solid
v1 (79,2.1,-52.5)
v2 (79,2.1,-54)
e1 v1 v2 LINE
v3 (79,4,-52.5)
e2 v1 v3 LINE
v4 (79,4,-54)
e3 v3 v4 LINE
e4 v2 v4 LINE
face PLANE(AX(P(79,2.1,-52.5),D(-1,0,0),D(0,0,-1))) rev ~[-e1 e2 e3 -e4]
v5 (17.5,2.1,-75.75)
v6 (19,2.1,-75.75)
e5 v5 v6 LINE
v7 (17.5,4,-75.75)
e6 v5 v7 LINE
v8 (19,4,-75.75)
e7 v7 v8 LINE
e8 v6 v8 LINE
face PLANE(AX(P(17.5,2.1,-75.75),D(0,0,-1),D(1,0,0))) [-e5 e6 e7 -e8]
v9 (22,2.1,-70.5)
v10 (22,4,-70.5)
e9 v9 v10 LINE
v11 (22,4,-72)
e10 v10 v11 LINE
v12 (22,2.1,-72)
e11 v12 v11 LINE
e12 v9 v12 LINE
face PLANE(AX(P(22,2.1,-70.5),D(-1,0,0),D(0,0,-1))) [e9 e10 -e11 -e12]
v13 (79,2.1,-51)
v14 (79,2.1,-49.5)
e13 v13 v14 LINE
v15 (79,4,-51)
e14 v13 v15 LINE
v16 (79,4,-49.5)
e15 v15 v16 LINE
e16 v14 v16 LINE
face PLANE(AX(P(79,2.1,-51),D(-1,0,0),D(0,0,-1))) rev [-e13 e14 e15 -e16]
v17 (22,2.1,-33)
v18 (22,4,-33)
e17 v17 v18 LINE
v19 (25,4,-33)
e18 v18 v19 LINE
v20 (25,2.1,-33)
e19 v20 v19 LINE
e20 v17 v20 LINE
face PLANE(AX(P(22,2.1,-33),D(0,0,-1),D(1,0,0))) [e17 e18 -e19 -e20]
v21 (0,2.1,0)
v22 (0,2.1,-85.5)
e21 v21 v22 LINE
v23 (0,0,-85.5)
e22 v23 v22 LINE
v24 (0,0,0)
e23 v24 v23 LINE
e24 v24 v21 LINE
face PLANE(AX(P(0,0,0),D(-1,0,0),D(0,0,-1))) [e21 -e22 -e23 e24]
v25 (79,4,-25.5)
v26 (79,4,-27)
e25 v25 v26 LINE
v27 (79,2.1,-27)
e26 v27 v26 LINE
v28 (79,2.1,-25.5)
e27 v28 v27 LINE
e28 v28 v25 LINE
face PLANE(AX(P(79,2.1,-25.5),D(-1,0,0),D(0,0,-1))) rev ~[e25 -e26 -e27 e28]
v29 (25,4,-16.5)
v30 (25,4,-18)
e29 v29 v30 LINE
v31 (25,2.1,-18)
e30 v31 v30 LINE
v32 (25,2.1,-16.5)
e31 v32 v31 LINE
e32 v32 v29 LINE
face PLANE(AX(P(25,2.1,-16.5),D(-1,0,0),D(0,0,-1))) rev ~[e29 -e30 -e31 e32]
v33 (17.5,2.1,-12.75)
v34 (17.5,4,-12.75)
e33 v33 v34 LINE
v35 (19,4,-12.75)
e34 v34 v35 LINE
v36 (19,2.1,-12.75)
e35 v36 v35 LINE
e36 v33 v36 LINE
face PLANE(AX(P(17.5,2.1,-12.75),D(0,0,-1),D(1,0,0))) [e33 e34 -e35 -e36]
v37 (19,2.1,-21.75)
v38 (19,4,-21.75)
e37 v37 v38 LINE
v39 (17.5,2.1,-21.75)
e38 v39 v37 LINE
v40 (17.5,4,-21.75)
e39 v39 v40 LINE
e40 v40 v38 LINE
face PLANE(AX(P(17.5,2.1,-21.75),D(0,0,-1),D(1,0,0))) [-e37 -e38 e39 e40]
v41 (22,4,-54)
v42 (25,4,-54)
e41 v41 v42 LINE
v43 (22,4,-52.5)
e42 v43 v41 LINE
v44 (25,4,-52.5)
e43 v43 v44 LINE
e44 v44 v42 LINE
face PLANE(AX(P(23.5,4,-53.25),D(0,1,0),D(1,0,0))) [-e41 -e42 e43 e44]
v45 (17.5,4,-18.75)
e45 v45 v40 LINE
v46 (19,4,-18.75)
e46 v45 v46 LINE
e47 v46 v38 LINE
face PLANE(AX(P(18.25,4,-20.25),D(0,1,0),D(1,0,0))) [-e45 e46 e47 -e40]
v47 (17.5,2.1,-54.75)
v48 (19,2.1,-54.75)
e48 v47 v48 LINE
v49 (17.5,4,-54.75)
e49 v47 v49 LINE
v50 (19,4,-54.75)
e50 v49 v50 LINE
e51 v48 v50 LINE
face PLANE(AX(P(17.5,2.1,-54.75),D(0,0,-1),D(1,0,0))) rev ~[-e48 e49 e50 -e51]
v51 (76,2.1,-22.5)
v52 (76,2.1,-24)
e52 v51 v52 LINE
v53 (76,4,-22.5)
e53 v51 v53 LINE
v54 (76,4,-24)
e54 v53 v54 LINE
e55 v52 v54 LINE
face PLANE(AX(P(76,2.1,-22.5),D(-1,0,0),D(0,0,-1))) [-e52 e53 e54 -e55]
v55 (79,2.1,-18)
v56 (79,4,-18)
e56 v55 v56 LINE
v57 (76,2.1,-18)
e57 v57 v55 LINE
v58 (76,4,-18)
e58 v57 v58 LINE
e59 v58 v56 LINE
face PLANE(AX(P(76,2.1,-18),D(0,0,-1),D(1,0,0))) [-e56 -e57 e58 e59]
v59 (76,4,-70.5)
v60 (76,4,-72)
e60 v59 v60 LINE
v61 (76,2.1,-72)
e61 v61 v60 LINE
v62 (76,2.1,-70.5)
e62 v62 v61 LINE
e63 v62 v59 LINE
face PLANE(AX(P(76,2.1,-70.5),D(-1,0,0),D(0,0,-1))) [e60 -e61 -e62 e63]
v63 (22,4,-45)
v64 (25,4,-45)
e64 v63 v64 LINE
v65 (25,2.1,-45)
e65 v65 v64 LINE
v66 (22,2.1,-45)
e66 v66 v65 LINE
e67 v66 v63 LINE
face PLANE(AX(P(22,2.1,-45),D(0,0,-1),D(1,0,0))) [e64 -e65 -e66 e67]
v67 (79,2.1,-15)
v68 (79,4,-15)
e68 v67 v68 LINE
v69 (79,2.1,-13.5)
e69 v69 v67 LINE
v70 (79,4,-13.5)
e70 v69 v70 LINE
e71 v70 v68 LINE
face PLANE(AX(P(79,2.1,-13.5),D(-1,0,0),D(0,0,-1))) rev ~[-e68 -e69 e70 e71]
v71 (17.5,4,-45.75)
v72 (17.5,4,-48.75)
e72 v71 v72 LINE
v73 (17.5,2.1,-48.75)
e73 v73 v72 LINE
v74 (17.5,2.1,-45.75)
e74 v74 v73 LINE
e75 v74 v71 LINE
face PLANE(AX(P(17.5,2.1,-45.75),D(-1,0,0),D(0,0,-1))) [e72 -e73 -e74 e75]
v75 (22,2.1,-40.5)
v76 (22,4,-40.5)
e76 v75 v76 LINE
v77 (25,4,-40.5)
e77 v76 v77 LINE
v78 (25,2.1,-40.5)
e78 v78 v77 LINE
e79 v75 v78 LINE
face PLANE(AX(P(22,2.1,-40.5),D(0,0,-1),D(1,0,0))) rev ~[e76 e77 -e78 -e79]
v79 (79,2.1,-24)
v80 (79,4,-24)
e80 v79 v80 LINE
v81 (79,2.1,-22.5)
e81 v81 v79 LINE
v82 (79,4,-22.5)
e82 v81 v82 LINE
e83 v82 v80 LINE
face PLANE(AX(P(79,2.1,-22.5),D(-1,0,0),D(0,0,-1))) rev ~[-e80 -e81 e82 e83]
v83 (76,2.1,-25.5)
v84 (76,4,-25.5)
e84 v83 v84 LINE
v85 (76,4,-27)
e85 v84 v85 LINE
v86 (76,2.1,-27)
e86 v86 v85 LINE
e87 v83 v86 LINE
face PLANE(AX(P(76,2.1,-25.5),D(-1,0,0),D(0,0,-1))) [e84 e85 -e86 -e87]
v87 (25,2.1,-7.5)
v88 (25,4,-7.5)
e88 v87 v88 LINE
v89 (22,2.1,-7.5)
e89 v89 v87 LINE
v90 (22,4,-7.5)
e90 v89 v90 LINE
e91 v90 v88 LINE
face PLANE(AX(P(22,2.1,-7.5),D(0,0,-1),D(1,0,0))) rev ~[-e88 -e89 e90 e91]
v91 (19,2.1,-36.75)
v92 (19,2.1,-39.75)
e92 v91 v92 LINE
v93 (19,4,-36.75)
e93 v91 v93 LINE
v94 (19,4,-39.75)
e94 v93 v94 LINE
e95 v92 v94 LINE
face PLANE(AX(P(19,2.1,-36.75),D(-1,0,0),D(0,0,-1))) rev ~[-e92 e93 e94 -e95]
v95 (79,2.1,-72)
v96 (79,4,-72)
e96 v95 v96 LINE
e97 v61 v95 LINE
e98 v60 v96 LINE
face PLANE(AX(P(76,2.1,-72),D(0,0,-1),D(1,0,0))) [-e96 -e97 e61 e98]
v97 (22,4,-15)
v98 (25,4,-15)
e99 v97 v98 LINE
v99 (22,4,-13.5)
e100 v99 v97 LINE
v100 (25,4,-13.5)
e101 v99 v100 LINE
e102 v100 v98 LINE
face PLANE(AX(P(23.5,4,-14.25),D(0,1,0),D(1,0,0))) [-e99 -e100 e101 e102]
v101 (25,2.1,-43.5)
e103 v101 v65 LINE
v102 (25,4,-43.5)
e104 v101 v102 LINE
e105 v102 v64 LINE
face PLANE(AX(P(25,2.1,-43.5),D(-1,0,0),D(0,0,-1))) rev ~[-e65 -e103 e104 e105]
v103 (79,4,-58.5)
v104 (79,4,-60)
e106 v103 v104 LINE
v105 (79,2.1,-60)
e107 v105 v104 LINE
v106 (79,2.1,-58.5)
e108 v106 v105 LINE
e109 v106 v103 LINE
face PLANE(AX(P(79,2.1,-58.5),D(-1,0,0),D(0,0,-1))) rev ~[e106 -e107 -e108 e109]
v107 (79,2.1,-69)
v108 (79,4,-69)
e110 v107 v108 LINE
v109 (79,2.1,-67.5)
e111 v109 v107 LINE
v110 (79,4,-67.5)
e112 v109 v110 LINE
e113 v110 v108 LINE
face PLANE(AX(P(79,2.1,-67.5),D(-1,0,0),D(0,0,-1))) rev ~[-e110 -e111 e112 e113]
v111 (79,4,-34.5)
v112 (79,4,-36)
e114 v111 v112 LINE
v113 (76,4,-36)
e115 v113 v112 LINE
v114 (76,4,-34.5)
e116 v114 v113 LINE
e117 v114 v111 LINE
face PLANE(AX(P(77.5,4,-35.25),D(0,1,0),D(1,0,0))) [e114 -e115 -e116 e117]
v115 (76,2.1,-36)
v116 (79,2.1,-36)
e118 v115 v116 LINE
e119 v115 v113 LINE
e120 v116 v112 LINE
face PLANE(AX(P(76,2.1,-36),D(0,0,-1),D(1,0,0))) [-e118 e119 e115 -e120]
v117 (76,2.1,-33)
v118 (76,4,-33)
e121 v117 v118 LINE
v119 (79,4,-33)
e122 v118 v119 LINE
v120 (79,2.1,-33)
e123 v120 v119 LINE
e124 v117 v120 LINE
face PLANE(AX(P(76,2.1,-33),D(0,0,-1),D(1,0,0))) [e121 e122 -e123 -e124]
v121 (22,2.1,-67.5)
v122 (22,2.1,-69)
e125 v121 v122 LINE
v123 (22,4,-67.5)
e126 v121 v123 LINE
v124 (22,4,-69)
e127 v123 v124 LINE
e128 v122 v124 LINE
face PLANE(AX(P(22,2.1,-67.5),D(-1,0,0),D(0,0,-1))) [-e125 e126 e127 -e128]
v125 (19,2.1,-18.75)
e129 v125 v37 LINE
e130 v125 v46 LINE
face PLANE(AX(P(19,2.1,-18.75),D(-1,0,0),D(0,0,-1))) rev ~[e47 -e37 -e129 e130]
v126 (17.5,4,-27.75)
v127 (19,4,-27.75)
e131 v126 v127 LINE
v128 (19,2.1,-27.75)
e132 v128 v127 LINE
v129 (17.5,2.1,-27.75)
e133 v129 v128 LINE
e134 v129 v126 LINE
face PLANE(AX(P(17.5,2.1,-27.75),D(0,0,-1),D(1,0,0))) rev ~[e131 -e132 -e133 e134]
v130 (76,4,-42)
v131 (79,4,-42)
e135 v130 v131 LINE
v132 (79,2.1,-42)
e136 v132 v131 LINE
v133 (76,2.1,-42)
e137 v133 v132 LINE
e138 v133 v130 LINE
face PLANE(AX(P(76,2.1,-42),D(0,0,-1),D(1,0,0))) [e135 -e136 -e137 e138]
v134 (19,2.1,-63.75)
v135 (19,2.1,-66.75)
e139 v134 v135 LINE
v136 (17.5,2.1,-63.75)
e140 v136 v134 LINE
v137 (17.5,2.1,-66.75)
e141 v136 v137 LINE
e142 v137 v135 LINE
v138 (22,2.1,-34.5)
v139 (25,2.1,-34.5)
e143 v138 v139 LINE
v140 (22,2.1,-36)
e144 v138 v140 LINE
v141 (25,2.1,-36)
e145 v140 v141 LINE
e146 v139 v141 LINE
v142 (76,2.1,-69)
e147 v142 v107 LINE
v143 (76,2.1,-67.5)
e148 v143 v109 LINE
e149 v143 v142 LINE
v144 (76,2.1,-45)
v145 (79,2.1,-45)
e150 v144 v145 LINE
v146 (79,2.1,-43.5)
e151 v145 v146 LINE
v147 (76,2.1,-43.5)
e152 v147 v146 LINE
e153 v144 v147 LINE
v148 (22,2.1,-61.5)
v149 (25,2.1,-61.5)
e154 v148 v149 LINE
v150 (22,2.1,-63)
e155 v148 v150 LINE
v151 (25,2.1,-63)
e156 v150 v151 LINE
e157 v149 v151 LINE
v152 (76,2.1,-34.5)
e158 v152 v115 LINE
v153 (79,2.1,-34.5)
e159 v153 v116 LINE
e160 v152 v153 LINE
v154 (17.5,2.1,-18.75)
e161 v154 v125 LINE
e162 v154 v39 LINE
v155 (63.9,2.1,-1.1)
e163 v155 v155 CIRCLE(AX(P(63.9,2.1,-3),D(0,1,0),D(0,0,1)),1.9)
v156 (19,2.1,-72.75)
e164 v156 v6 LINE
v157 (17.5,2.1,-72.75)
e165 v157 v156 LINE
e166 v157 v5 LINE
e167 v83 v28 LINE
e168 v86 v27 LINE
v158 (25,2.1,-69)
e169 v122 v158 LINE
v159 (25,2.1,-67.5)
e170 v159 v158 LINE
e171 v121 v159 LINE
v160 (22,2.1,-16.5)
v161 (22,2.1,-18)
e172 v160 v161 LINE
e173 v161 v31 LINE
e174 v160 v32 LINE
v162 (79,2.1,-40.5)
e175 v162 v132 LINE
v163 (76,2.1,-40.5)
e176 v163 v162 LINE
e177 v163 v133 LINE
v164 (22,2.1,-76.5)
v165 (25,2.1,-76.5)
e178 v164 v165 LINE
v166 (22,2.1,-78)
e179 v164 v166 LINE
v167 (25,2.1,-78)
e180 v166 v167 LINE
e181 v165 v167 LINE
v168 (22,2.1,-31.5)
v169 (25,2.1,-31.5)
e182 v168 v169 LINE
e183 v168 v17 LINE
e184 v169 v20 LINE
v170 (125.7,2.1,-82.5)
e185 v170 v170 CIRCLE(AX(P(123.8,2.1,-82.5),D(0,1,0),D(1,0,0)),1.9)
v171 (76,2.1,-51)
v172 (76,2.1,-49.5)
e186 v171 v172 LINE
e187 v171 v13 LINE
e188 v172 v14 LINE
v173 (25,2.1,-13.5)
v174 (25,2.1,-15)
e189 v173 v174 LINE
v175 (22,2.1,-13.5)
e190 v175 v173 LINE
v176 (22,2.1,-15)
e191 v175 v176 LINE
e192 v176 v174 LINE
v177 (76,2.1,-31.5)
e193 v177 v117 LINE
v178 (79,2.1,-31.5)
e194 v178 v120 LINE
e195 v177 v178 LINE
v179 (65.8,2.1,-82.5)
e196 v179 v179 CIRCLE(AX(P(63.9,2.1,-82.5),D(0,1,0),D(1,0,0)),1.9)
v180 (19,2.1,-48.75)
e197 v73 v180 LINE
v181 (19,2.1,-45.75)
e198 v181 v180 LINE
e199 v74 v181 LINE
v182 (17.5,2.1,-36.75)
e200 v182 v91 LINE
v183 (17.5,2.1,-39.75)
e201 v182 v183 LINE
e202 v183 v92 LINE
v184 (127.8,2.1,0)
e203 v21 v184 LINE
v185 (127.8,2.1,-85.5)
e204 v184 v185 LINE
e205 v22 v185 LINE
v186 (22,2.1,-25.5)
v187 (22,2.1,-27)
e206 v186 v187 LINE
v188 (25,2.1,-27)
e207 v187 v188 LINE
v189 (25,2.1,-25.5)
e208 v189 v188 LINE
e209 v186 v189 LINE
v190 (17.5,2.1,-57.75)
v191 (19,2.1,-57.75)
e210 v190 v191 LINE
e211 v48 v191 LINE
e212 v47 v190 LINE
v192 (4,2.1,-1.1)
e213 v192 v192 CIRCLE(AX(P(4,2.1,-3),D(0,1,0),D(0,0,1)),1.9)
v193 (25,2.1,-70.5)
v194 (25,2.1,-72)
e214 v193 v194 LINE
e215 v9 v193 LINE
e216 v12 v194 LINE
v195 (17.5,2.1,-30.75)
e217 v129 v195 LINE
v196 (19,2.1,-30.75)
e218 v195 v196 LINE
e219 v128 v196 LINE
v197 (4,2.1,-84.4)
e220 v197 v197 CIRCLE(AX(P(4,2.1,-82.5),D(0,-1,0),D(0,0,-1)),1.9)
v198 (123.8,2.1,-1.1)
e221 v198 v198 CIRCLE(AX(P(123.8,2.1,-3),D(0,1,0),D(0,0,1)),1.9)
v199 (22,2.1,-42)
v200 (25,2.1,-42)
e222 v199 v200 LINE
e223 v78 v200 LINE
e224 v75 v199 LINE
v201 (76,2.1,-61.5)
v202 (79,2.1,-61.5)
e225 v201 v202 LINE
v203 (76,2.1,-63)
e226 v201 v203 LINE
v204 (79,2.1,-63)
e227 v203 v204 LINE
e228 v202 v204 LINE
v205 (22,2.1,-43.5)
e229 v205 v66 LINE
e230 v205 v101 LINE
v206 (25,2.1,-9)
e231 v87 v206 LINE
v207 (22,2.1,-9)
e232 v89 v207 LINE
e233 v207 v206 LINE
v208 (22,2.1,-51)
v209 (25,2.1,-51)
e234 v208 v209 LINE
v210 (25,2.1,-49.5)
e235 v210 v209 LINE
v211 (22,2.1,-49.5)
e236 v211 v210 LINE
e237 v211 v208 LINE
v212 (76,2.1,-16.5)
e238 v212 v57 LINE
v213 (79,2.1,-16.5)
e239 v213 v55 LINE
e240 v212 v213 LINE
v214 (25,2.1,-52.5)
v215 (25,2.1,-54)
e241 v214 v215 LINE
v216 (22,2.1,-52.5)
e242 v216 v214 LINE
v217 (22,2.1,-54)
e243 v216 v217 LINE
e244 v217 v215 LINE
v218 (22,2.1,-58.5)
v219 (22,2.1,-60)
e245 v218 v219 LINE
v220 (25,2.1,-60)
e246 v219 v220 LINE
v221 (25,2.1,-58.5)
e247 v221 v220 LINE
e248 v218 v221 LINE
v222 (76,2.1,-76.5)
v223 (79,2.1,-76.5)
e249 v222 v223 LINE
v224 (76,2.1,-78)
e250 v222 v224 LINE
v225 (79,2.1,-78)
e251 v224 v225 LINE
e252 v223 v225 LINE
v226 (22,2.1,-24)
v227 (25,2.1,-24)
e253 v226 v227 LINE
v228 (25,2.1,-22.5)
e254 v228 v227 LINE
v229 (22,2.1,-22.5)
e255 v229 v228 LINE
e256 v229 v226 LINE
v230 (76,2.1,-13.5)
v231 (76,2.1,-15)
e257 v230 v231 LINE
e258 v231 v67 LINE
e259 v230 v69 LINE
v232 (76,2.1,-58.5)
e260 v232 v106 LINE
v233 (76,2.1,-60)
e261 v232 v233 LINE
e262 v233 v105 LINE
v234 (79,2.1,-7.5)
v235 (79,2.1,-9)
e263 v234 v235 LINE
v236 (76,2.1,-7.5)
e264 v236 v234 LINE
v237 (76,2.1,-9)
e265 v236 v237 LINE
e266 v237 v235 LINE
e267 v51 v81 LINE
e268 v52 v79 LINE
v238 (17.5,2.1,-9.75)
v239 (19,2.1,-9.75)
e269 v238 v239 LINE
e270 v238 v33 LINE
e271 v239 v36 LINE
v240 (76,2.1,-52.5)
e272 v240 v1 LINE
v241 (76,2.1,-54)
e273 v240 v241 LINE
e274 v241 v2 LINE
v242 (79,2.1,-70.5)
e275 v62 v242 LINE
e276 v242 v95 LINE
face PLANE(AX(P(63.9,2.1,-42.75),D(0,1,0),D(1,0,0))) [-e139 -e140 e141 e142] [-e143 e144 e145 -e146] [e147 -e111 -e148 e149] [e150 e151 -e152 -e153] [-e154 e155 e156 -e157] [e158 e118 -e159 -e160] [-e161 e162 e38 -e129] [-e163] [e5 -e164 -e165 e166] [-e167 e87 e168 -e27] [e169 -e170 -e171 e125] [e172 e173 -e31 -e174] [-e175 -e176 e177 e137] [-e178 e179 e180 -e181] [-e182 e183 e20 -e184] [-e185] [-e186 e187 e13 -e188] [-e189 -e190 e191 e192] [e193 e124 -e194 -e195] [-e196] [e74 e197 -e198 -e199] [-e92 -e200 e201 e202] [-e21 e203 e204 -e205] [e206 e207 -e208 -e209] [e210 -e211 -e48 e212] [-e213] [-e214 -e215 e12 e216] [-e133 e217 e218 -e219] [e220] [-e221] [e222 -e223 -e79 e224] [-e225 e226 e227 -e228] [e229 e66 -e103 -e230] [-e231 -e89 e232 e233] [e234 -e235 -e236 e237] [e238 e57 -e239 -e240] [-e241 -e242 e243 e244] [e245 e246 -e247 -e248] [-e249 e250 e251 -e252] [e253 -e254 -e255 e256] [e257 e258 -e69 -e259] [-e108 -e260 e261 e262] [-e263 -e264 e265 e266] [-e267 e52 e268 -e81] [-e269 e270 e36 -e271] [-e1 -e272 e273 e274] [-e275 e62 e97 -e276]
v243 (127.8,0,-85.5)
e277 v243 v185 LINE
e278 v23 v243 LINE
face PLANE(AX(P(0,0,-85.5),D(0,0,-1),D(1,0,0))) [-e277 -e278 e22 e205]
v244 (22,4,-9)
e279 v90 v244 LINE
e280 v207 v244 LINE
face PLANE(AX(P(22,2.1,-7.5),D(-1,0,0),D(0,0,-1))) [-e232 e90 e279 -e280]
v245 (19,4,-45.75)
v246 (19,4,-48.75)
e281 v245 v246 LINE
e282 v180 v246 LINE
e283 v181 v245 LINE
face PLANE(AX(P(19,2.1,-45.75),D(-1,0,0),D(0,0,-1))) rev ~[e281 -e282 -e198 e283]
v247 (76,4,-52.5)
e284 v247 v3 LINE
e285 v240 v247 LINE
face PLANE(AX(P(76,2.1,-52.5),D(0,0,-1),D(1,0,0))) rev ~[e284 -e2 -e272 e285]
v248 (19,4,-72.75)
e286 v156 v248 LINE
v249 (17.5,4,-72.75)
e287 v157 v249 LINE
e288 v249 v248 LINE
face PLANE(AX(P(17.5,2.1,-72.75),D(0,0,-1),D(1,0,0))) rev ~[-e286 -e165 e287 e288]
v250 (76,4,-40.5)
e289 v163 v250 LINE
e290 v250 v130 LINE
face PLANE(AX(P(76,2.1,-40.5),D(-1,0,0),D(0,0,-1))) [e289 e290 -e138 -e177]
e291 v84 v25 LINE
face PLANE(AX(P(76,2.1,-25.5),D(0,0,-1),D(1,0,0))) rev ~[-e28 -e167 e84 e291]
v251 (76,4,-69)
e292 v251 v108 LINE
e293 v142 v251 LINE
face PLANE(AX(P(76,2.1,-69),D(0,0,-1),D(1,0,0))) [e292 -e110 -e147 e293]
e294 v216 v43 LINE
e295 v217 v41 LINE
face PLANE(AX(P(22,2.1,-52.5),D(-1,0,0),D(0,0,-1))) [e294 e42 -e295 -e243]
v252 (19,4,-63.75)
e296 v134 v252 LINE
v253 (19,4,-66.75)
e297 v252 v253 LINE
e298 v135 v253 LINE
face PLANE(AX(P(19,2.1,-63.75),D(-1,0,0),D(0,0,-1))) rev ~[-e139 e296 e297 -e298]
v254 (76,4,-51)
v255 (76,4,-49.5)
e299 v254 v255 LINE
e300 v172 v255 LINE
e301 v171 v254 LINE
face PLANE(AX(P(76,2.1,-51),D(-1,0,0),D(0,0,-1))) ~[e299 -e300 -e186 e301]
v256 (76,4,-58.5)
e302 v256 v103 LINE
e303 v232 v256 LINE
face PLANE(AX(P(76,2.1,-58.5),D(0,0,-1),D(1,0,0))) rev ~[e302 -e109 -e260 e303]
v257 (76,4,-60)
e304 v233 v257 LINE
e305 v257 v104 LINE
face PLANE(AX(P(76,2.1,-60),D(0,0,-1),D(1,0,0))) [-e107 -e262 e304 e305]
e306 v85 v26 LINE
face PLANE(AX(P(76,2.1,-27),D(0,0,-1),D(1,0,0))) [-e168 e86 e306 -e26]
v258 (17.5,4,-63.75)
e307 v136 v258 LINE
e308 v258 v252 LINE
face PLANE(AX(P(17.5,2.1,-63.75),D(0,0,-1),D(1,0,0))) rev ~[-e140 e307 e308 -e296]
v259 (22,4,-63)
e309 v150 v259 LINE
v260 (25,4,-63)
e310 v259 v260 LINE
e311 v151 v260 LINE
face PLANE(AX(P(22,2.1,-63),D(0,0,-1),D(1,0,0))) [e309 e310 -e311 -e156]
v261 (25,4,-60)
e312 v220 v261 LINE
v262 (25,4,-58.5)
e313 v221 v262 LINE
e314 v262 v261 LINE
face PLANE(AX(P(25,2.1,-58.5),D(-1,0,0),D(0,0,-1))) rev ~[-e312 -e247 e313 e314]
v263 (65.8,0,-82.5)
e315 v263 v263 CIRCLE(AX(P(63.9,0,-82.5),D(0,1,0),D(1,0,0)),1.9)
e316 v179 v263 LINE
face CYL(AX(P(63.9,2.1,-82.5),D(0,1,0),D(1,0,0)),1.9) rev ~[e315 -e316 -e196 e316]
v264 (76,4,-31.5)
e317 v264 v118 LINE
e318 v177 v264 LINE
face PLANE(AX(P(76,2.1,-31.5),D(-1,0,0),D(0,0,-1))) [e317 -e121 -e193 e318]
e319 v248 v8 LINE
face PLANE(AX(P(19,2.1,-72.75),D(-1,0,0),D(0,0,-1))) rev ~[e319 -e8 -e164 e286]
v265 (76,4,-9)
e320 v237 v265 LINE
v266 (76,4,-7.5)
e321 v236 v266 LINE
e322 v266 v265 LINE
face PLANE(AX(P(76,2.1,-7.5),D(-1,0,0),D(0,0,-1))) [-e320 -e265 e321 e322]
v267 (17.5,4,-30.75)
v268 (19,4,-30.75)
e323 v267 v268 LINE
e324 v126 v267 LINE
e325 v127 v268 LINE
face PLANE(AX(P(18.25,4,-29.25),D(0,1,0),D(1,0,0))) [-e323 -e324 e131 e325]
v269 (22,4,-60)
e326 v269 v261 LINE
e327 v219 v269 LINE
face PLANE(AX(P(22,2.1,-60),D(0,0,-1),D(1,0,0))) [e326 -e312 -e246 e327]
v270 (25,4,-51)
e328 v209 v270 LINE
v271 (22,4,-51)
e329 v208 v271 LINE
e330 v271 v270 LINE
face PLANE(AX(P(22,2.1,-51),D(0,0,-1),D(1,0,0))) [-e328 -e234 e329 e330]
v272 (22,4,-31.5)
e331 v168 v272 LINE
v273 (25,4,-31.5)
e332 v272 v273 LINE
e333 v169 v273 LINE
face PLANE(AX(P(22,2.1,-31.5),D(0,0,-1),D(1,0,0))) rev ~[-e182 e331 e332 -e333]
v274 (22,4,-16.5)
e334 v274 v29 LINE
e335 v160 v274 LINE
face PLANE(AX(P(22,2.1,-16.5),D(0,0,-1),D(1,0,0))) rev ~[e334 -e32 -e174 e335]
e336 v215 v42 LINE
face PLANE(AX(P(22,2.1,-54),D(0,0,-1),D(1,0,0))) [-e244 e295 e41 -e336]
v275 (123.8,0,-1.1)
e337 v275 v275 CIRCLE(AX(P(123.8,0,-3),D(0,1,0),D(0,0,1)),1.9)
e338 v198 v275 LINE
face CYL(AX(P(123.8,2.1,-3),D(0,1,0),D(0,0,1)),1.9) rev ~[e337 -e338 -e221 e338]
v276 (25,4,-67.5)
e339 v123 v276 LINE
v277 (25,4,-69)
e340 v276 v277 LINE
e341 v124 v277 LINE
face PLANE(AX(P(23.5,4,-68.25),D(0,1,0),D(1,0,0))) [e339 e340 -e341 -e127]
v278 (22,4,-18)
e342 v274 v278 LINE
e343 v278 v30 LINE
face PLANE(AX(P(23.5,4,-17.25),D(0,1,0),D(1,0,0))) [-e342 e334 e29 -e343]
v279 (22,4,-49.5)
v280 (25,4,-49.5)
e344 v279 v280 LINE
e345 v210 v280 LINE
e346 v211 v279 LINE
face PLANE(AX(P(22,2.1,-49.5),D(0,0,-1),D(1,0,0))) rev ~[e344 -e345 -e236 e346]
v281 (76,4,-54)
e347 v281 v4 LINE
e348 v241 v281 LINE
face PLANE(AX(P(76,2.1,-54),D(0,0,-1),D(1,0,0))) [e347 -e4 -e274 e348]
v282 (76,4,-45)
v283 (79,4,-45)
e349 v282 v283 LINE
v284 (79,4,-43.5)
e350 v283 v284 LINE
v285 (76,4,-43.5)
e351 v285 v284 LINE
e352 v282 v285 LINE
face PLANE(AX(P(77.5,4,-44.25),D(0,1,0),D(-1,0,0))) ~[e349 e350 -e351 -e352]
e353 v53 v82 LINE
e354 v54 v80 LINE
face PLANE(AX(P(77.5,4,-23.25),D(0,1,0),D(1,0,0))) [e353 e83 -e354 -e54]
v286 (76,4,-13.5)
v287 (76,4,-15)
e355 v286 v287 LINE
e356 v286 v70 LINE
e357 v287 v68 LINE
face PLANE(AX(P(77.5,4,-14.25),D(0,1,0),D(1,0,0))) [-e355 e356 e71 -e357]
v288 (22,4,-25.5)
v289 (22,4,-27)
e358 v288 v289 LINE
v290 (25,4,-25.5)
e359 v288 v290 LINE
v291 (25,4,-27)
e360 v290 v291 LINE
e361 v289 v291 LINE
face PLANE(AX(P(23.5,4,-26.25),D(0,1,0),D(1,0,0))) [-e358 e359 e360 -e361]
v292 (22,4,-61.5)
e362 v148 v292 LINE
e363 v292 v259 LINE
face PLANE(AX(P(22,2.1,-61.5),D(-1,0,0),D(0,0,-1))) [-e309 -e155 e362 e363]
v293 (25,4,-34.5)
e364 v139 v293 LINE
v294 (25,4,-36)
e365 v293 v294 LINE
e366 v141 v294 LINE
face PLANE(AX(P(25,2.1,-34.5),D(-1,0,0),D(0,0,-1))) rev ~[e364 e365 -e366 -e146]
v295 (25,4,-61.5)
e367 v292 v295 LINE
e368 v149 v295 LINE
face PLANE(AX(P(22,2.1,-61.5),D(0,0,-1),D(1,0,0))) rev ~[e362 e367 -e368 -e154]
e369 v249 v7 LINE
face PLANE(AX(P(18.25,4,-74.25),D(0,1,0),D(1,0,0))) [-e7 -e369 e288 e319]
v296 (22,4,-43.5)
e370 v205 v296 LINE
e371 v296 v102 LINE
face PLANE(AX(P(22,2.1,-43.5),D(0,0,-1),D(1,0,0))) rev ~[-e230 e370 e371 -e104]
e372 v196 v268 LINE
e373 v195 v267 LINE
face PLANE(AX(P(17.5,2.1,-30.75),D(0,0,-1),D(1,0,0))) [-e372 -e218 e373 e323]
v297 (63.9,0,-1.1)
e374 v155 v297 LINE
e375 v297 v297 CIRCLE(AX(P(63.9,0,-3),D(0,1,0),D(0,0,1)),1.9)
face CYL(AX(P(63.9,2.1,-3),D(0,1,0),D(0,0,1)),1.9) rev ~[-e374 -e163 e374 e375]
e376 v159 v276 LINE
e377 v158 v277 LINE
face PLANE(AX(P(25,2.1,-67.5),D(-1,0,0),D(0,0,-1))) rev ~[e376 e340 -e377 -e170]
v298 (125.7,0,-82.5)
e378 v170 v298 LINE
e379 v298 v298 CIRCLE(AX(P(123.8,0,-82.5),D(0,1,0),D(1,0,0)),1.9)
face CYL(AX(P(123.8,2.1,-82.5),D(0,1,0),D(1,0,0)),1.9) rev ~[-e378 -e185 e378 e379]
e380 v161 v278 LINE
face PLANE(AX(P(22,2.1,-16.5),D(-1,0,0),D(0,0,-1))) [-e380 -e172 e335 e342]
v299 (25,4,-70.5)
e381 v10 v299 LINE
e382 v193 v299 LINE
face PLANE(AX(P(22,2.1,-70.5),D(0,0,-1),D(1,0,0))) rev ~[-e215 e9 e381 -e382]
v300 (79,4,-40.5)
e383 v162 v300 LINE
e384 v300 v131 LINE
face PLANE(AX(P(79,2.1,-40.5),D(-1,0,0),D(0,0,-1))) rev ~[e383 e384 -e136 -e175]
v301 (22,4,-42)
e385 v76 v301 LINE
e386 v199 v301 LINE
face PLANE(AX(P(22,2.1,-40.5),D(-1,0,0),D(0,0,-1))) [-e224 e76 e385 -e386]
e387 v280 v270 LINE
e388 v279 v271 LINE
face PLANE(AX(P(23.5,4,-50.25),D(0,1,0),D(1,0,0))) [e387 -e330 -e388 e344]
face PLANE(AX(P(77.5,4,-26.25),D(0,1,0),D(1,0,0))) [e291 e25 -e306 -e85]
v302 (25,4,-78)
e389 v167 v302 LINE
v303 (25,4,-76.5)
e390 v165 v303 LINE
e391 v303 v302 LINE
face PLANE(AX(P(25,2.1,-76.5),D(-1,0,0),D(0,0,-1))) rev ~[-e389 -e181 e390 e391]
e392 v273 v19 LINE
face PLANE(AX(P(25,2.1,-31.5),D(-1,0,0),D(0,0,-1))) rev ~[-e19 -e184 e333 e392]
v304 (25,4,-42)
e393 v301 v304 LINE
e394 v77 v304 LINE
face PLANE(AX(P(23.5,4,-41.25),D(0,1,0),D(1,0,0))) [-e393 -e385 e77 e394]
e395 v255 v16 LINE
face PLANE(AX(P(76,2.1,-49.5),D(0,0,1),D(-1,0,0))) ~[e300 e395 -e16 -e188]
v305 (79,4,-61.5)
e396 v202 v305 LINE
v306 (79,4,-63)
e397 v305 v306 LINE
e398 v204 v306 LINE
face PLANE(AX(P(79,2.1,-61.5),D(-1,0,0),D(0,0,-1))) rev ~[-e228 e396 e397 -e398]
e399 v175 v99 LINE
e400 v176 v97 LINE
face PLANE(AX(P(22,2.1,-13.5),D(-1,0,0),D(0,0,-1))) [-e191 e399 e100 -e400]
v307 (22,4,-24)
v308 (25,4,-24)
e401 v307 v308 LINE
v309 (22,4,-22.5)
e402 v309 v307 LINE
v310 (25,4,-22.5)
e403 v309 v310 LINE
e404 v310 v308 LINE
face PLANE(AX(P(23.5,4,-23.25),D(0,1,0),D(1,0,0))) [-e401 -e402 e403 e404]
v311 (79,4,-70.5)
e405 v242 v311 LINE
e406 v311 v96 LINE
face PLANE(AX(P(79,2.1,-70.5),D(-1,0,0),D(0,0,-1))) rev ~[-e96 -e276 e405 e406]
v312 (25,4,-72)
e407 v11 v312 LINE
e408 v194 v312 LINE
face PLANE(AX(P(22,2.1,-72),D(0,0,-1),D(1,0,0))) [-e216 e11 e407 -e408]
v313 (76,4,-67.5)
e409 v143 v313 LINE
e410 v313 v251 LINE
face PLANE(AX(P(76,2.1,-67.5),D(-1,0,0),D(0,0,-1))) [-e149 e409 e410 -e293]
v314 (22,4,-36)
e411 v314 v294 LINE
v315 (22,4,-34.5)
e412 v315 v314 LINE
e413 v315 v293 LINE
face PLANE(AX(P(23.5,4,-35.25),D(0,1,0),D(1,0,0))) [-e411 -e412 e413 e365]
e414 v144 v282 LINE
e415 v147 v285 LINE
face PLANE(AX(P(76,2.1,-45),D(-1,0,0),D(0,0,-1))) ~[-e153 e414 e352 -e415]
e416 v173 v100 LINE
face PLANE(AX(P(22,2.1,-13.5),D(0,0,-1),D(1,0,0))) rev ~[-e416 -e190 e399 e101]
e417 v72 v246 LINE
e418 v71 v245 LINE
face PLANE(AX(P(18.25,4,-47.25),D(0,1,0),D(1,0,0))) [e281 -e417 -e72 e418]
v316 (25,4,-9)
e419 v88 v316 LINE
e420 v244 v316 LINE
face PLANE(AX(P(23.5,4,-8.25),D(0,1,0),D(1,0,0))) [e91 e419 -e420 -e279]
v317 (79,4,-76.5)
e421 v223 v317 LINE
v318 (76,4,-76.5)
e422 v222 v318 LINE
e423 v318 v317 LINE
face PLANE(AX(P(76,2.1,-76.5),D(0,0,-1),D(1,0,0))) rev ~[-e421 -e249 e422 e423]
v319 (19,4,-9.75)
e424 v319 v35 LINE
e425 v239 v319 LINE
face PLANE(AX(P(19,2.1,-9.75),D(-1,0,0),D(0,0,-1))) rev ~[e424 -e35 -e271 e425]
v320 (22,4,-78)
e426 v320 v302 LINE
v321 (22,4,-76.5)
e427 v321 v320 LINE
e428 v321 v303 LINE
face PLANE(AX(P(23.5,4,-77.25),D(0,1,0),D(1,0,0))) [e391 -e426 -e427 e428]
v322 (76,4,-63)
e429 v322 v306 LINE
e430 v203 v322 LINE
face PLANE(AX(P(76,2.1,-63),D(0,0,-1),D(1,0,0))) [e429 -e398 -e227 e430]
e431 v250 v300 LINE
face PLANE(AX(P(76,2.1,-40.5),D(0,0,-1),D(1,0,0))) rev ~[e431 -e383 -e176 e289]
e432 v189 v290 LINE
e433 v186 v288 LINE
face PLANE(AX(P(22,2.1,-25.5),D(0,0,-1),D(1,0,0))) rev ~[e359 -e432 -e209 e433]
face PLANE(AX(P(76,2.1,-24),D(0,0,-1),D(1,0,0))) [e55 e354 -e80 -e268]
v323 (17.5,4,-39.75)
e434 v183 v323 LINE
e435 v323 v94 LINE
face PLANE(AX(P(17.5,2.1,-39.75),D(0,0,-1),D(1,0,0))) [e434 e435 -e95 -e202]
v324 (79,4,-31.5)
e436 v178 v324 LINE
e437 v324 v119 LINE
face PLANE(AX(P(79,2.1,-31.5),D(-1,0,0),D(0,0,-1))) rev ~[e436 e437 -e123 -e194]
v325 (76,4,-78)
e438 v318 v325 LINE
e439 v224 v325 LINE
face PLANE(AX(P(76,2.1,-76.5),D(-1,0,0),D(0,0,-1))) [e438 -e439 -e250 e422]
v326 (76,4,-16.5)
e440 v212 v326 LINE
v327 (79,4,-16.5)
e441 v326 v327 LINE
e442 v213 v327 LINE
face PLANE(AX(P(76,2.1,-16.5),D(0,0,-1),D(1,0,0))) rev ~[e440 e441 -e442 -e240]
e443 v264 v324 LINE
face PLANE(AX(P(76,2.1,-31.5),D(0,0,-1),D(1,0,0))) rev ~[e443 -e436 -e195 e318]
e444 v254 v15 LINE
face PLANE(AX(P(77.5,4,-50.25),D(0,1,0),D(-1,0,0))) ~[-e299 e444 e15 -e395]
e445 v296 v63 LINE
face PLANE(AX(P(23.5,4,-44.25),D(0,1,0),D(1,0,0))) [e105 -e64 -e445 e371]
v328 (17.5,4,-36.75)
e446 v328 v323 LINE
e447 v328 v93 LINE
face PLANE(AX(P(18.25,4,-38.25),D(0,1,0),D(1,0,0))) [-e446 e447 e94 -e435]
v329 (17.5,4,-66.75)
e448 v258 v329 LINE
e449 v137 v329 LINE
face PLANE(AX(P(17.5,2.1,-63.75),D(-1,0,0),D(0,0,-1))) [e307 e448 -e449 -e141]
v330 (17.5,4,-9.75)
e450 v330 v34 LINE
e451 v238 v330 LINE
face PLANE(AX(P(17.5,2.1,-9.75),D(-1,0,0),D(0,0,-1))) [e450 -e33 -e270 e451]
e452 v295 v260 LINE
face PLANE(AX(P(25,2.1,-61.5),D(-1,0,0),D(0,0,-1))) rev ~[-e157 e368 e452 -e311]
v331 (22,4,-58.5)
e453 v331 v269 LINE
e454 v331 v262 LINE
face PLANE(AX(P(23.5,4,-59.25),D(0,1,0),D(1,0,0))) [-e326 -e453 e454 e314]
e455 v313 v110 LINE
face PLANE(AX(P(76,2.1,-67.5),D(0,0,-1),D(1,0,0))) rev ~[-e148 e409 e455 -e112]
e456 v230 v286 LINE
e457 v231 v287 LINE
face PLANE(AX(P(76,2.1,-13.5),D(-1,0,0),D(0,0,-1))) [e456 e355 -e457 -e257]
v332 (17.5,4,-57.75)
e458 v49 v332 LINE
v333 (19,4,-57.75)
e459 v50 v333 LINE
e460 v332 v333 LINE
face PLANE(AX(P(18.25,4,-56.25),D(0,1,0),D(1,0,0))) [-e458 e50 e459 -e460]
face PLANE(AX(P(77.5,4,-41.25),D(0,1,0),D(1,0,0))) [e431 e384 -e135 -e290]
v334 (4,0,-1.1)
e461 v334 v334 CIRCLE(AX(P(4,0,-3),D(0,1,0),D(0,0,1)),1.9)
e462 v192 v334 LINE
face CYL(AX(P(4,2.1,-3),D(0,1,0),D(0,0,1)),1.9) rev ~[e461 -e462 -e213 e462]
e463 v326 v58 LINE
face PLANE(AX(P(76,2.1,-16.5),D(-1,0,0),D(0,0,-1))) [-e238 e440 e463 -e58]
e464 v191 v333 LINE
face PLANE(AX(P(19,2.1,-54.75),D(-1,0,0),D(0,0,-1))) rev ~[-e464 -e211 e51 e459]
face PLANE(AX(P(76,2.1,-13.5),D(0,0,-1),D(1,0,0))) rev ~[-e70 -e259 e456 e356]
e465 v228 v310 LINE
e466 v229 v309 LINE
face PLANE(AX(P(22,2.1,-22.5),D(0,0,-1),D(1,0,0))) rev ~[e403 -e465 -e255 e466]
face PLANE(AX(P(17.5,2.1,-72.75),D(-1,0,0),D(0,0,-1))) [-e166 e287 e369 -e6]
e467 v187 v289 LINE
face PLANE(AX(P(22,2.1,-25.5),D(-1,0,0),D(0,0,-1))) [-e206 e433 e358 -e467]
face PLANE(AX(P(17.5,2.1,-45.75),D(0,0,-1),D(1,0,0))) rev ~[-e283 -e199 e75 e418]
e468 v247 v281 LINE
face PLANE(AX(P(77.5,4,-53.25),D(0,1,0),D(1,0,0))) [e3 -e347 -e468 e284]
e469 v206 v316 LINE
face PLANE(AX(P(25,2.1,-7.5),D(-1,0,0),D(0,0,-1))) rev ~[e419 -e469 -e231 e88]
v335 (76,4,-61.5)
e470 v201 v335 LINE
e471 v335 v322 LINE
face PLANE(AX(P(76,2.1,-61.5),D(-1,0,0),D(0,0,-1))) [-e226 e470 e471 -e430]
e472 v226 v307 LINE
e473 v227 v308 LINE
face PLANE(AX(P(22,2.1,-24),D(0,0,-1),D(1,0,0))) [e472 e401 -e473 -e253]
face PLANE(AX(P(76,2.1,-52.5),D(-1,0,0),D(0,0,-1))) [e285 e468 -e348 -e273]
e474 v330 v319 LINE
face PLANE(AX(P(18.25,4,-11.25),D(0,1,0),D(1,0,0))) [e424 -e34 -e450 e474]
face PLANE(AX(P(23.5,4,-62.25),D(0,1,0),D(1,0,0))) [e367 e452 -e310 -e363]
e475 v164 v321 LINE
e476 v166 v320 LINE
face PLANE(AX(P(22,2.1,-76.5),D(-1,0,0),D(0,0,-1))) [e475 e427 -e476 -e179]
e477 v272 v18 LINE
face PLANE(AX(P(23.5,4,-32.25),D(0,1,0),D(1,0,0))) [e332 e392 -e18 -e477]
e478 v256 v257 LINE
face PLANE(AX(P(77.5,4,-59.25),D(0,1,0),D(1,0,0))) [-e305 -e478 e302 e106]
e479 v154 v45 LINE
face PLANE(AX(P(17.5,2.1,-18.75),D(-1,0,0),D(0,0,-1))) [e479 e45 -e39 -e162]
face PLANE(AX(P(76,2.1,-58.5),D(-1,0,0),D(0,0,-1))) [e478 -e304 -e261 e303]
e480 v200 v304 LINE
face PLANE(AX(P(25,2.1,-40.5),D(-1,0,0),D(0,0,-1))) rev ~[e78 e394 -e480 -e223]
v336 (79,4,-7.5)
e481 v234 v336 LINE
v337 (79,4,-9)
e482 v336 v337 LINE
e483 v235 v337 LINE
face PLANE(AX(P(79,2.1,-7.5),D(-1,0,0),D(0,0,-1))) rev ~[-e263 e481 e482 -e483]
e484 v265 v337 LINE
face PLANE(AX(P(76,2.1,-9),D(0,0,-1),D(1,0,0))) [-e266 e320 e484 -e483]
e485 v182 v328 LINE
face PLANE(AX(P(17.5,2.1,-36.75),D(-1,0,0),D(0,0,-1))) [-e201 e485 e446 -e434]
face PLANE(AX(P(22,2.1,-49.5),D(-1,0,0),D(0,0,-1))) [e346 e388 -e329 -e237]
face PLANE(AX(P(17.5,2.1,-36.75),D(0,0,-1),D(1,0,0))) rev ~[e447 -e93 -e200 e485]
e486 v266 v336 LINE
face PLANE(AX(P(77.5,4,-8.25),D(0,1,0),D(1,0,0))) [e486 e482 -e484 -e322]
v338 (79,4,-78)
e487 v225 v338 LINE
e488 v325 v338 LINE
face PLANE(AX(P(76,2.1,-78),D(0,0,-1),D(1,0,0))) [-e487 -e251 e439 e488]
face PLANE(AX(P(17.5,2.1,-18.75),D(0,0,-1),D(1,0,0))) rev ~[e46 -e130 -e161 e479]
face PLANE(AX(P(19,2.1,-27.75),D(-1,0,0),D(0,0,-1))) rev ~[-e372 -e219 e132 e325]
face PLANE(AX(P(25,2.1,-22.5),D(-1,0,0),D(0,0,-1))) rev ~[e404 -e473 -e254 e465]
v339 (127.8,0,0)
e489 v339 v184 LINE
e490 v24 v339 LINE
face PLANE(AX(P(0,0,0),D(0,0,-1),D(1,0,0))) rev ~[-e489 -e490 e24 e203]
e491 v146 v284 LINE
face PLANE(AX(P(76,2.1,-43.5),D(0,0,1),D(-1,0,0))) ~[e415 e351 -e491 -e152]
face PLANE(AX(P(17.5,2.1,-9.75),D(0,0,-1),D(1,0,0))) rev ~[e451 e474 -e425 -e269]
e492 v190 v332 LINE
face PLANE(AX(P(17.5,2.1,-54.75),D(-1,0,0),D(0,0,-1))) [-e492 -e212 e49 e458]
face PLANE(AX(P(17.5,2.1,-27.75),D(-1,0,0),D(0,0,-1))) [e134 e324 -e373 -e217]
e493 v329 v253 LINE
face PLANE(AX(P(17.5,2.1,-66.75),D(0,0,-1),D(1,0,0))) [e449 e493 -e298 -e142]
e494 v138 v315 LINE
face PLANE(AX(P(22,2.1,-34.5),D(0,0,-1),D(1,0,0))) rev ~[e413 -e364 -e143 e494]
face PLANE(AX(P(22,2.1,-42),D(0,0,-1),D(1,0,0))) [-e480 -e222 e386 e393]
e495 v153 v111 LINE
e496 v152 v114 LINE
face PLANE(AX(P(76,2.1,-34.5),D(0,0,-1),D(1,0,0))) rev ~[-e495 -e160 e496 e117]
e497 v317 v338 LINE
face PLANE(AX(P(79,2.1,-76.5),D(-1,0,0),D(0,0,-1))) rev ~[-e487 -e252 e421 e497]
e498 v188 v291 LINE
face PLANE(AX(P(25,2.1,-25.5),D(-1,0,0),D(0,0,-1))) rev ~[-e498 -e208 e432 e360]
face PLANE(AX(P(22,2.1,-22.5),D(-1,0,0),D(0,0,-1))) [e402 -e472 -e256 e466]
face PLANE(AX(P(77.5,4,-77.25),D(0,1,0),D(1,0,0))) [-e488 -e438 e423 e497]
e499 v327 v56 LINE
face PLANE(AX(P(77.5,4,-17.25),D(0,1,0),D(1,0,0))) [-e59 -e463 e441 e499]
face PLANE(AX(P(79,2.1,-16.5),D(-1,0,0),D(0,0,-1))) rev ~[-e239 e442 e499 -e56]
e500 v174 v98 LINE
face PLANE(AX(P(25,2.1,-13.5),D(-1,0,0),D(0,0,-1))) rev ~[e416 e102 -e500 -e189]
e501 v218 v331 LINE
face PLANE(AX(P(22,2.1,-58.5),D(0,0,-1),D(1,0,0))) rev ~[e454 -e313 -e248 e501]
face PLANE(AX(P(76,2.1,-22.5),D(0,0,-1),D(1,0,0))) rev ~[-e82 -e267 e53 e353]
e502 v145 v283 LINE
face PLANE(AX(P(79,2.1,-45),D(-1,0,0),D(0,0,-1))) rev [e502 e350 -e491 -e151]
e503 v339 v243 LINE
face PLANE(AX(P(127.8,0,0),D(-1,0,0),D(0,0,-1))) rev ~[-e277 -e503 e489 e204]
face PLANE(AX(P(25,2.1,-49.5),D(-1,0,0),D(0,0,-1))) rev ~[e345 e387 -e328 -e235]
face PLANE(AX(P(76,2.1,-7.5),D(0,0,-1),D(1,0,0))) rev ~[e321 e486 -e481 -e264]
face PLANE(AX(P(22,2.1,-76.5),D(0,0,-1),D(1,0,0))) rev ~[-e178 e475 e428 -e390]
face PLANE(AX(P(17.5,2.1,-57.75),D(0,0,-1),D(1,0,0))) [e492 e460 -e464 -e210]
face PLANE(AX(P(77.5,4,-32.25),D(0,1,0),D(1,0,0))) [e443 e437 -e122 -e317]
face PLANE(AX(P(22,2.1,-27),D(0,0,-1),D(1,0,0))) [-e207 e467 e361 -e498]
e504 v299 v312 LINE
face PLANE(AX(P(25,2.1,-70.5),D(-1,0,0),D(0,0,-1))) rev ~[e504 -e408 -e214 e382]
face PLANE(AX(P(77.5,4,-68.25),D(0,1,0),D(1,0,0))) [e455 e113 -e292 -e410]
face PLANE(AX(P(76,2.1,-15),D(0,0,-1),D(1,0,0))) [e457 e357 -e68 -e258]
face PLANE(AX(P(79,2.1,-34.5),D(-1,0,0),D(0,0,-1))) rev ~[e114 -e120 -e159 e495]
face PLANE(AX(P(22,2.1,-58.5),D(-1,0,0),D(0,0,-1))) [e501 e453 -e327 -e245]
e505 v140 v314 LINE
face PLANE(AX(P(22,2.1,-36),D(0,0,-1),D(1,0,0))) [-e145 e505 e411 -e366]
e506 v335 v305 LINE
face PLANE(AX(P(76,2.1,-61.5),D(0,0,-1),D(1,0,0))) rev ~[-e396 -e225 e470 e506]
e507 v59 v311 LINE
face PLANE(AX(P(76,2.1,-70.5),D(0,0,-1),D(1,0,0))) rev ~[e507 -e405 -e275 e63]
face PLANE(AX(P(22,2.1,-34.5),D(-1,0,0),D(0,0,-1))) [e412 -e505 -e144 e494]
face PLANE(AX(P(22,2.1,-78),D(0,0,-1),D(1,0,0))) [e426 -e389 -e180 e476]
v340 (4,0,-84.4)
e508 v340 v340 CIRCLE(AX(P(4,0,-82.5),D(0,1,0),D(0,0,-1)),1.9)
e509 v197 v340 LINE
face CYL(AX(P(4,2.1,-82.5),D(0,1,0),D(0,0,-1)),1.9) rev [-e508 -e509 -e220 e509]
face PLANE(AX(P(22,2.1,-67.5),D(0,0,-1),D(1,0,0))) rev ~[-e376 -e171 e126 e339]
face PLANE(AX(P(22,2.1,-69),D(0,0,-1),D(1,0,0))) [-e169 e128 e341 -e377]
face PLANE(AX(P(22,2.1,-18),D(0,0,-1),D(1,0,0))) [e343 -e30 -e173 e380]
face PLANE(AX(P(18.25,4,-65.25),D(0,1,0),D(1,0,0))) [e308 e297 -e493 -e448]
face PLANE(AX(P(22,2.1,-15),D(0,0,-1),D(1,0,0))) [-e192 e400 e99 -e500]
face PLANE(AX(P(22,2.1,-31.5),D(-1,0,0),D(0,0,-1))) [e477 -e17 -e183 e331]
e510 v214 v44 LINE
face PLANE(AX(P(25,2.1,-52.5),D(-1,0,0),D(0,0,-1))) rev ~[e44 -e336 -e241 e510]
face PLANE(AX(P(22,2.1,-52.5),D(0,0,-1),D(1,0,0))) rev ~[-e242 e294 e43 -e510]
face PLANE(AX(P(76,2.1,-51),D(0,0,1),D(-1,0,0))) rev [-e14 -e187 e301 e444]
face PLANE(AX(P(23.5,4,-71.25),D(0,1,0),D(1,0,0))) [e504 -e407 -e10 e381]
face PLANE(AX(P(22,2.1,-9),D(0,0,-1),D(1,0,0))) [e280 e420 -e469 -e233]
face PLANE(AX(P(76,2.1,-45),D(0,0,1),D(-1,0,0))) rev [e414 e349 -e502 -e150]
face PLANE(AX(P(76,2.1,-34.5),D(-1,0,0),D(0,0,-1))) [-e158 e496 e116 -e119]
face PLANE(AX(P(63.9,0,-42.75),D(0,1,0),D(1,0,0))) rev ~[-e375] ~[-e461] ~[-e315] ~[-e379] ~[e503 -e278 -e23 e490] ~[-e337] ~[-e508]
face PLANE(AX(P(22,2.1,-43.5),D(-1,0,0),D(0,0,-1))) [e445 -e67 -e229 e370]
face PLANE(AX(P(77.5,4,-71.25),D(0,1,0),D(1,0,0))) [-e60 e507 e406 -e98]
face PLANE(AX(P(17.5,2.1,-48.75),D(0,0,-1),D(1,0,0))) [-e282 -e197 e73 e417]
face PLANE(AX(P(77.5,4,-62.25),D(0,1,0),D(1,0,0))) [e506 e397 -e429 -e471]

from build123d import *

# Parameters (mm, degrees)
SKETCH1_W                 = 127.8
SKETCH1_H                 = 85.5
BOSS_EXTRUDE1_DEPTH       = 2.1
SKETCH2_R                 = 1.9
CUT_EXTRUDE1_DEPTH        = 154.777436576
LPATTERN1_COUNT           = 3
LPATTERN1_PITCH           = 59.9
MIRROR1_COPY_1_SKETCH_R   = 1.9
MIRROR1_COPY_1_DEPTH      = 154.777436576
MIRROR1_COPY_2_SKETCH_R   = 1.9
MIRROR1_COPY_2_DEPTH      = 154.777436576
SKETCH3_W                 = 3
SKETCH3_H                 = 1.5
BOSS_EXTRUDE2_DEPTH       = 1.9
LPATTERN2_COUNT           = 4
LPATTERN2_PITCH           = 9
MIRROR2_COPY_1_SKETCH_W   = 3
MIRROR2_COPY_1_SKETCH_H   = 1.5
MIRROR2_COPY_1_DEPTH      = 1.9
MIRROR2_COPY_2_SKETCH_W   = 3
MIRROR2_COPY_2_SKETCH_H   = 1.5
MIRROR2_COPY_2_DEPTH      = 1.9
MIRROR2_COPY_3_SKETCH_W   = 3
MIRROR2_COPY_3_SKETCH_H   = 1.5
MIRROR2_COPY_3_DEPTH      = 1.9
LPATTERN3_COUNT           = 2
LPATTERN3_PITCH           = 54
LPATTERN3_COPY_1_SKETCH_W = 3
LPATTERN3_COPY_1_SKETCH_H = 1.5
LPATTERN3_COPY_1_DEPTH    = 1.9
LPATTERN3_COPY_2_SKETCH_W = 3
LPATTERN3_COPY_2_SKETCH_H = 1.5
LPATTERN3_COPY_2_DEPTH    = 1.9
LPATTERN3_COPY_3_SKETCH_W = 3
LPATTERN3_COPY_3_SKETCH_H = 1.5
LPATTERN3_COPY_3_DEPTH    = 1.9
LPATTERN3_COPY_4_SKETCH_W = 3
LPATTERN3_COPY_4_SKETCH_H = 1.5
LPATTERN3_COPY_4_DEPTH    = 1.9
LPATTERN3_COPY_5_SKETCH_W = 3
LPATTERN3_COPY_5_SKETCH_H = 1.5
LPATTERN3_COPY_5_DEPTH    = 1.9
LPATTERN3_COPY_6_SKETCH_W = 3
LPATTERN3_COPY_6_SKETCH_H = 1.5
LPATTERN3_COPY_6_DEPTH    = 1.9
LPATTERN3_COPY_7_SKETCH_W = 3
LPATTERN3_COPY_7_SKETCH_H = 1.5
LPATTERN3_COPY_7_DEPTH    = 1.9
SKETCH4_W                 = 1.5
SKETCH4_H                 = 3
BOSS_EXTRUDE3_DEPTH       = 1.9
LPATTERN4_COUNT           = 8
LPATTERN4_PITCH           = 9


with BuildPart() as part:
    # Sketch1 → Boss-Extrude1 (new body)
    with BuildSketch(Plane(origin=(0, 0, 0), x_dir=(1, 0, 0), z_dir=(0, 1, 0))):
        with Locations((63.9, 42.75)):
            Rectangle(SKETCH1_W, SKETCH1_H)
    extrude(amount=BOSS_EXTRUDE1_DEPTH)

    # Sketch2 → Cut-Extrude1 (cut, through all)
    with BuildSketch(Plane(origin=(0, 2.1, 0), x_dir=(1, 0, 0), z_dir=(0, 1, 0))):
        with Locations(Location((4, 3, 0), (0, 0, 270))):
            Circle(SKETCH2_R)
    cut_extrude1 = extrude(amount=-CUT_EXTRUDE1_DEPTH, mode=Mode.SUBTRACT)

    # LPattern1: Cut-Extrude1 ×3
    with Locations(*[(i * LPATTERN1_PITCH, 0, 0) for i in range(1, LPATTERN1_COUNT)]):
        add(cut_extrude1, mode=Mode.SUBTRACT)

    # Mirror1: Cut-Extrude1 across plane
    add(cut_extrude1.mirror(Plane.XY.offset(-42.75)), mode=Mode.SUBTRACT)

    # Mirror1 copy 1 sketch → Mirror1 copy 1 (cut, through all)
    with BuildSketch(Plane(origin=(59.9, 2.1, -85.5), x_dir=(1, 0, 0), z_dir=(0, 1, 0))):
        with Locations((4, -3)):
            Circle(MIRROR1_COPY_1_SKETCH_R)
    extrude(amount=-MIRROR1_COPY_1_DEPTH, mode=Mode.SUBTRACT)

    # Mirror1 copy 2 sketch → Mirror1 copy 2 (cut, through all)
    with BuildSketch(Plane(origin=(119.8, 2.1, -85.5), x_dir=(1, 0, 0), z_dir=(0, 1, 0))):
        with Locations((4, -3)):
            Circle(MIRROR1_COPY_2_SKETCH_R)
    extrude(amount=-MIRROR1_COPY_2_DEPTH, mode=Mode.SUBTRACT)

    # Sketch3 → Boss-Extrude2 (add)
    with BuildSketch(Plane(origin=(0, 2.1, 0), x_dir=(1, 0, 0), z_dir=(0, 1, 0))):
        with Locations((77.5, 41.25)):
            Rectangle(SKETCH3_W, SKETCH3_H)
        with Locations((77.5, 35.25)):
            Rectangle(SKETCH3_W, SKETCH3_H)
    boss_extrude2 = extrude(amount=BOSS_EXTRUDE2_DEPTH)

    # LPattern2: Boss-Extrude2 ×4
    with Locations(*[(0, 0, i * LPATTERN2_PITCH) for i in range(1, LPATTERN2_COUNT)]):
        add(boss_extrude2)

    # Mirror2: Boss-Extrude2 across plane
    add(boss_extrude2.mirror(Plane.XY.offset(-42.75)))

    # Mirror2 copy 1 sketch → Mirror2 copy 1 (add)
    with BuildSketch(Plane(origin=(0, 2.1, -94.5), x_dir=(1, 0, 0), z_dir=(0, 1, 0))):
        with Locations((77.5, -41.25)):
            Rectangle(MIRROR2_COPY_1_SKETCH_W, MIRROR2_COPY_1_SKETCH_H)
        with Locations((77.5, -35.25)):
            Rectangle(MIRROR2_COPY_1_SKETCH_W, MIRROR2_COPY_1_SKETCH_H)
    extrude(amount=MIRROR2_COPY_1_DEPTH)

    # Mirror2 copy 2 sketch → Mirror2 copy 2 (add)
    with BuildSketch(Plane(origin=(0, 2.1, -103.5), x_dir=(1, 0, 0), z_dir=(0, 1, 0))):
        with Locations((77.5, -41.25)):
            Rectangle(MIRROR2_COPY_2_SKETCH_W, MIRROR2_COPY_2_SKETCH_H)
        with Locations((77.5, -35.25)):
            Rectangle(MIRROR2_COPY_2_SKETCH_W, MIRROR2_COPY_2_SKETCH_H)
    extrude(amount=MIRROR2_COPY_2_DEPTH)

    # Mirror2 copy 3 sketch → Mirror2 copy 3 (add)
    with BuildSketch(Plane(origin=(0, 2.1, -112.5), x_dir=(1, 0, 0), z_dir=(0, 1, 0))):
        with Locations((77.5, -41.25)):
            Rectangle(MIRROR2_COPY_3_SKETCH_W, MIRROR2_COPY_3_SKETCH_H)
        with Locations((77.5, -35.25)):
            Rectangle(MIRROR2_COPY_3_SKETCH_W, MIRROR2_COPY_3_SKETCH_H)
    extrude(amount=MIRROR2_COPY_3_DEPTH)

    # LPattern3: Boss-Extrude2 ×2
    with Locations(*[(-i * LPATTERN3_PITCH, 0, 0) for i in range(1, LPATTERN3_COUNT)]):
        add(boss_extrude2)

    # LPattern3 copy 1 sketch → LPattern3 copy 1 (add)
    with BuildSketch(Plane(origin=(-54, 2.1, 9), x_dir=(1, 0, 0), z_dir=(0, 1, 0))):
        with Locations((77.5, 41.25)):
            Rectangle(LPATTERN3_COPY_1_SKETCH_W, LPATTERN3_COPY_1_SKETCH_H)
        with Locations((77.5, 35.25)):
            Rectangle(LPATTERN3_COPY_1_SKETCH_W, LPATTERN3_COPY_1_SKETCH_H)
    extrude(amount=LPATTERN3_COPY_1_DEPTH)

    # LPattern3 copy 2 sketch → LPattern3 copy 2 (add)
    with BuildSketch(Plane(origin=(-54, 2.1, 18), x_dir=(1, 0, 0), z_dir=(0, 1, 0))):
        with Locations((77.5, 41.25)):
            Rectangle(LPATTERN3_COPY_2_SKETCH_W, LPATTERN3_COPY_2_SKETCH_H)
        with Locations((77.5, 35.25)):
            Rectangle(LPATTERN3_COPY_2_SKETCH_W, LPATTERN3_COPY_2_SKETCH_H)
    extrude(amount=LPATTERN3_COPY_2_DEPTH)

    # LPattern3 copy 3 sketch → LPattern3 copy 3 (add)
    with BuildSketch(Plane(origin=(-54, 2.1, 27), x_dir=(1, 0, 0), z_dir=(0, 1, 0))):
        with Locations((77.5, 41.25)):
            Rectangle(LPATTERN3_COPY_3_SKETCH_W, LPATTERN3_COPY_3_SKETCH_H)
        with Locations((77.5, 35.25)):
            Rectangle(LPATTERN3_COPY_3_SKETCH_W, LPATTERN3_COPY_3_SKETCH_H)
    extrude(amount=LPATTERN3_COPY_3_DEPTH)

    # LPattern3 copy 4 sketch → LPattern3 copy 4 (add)
    with BuildSketch(Plane(origin=(-54, 2.1, -85.5), x_dir=(1, 0, 0), z_dir=(0, 1, 0))):
        with Locations((77.5, -41.25)):
            Rectangle(LPATTERN3_COPY_4_SKETCH_W, LPATTERN3_COPY_4_SKETCH_H)
        with Locations((77.5, -35.25)):
            Rectangle(LPATTERN3_COPY_4_SKETCH_W, LPATTERN3_COPY_4_SKETCH_H)
    extrude(amount=LPATTERN3_COPY_4_DEPTH)

    # LPattern3 copy 5 sketch → LPattern3 copy 5 (add)
    with BuildSketch(Plane(origin=(-54, 2.1, -94.5), x_dir=(1, 0, 0), z_dir=(0, 1, 0))):
        with Locations((77.5, -41.25)):
            Rectangle(LPATTERN3_COPY_5_SKETCH_W, LPATTERN3_COPY_5_SKETCH_H)
        with Locations((77.5, -35.25)):
            Rectangle(LPATTERN3_COPY_5_SKETCH_W, LPATTERN3_COPY_5_SKETCH_H)
    extrude(amount=LPATTERN3_COPY_5_DEPTH)

    # LPattern3 copy 6 sketch → LPattern3 copy 6 (add)
    with BuildSketch(Plane(origin=(-54, 2.1, -103.5), x_dir=(1, 0, 0), z_dir=(0, 1, 0))):
        with Locations((77.5, -41.25)):
            Rectangle(LPATTERN3_COPY_6_SKETCH_W, LPATTERN3_COPY_6_SKETCH_H)
        with Locations((77.5, -35.25)):
            Rectangle(LPATTERN3_COPY_6_SKETCH_W, LPATTERN3_COPY_6_SKETCH_H)
    extrude(amount=LPATTERN3_COPY_6_DEPTH)

    # LPattern3 copy 7 sketch → LPattern3 copy 7 (add)
    with BuildSketch(Plane(origin=(-54, 2.1, -112.5), x_dir=(1, 0, 0), z_dir=(0, 1, 0))):
        with Locations((77.5, -41.25)):
            Rectangle(LPATTERN3_COPY_7_SKETCH_W, LPATTERN3_COPY_7_SKETCH_H)
        with Locations((77.5, -35.25)):
            Rectangle(LPATTERN3_COPY_7_SKETCH_W, LPATTERN3_COPY_7_SKETCH_H)
    extrude(amount=LPATTERN3_COPY_7_DEPTH)

    # Sketch4 → Boss-Extrude3 (add)
    with BuildSketch(Plane(origin=(0, 2.1, 0), x_dir=(1, 0, 0), z_dir=(0, 1, 0))):
        with Locations((18.25, 74.25)):
            Rectangle(SKETCH4_W, SKETCH4_H)
    boss_extrude3 = extrude(amount=BOSS_EXTRUDE3_DEPTH)

    # LPattern4: Boss-Extrude3 ×8
    with Locations(*[(0, 0, i * LPATTERN4_PITCH) for i in range(1, LPATTERN4_COUNT)]):
        add(boss_extrude3)


solid = part.part
